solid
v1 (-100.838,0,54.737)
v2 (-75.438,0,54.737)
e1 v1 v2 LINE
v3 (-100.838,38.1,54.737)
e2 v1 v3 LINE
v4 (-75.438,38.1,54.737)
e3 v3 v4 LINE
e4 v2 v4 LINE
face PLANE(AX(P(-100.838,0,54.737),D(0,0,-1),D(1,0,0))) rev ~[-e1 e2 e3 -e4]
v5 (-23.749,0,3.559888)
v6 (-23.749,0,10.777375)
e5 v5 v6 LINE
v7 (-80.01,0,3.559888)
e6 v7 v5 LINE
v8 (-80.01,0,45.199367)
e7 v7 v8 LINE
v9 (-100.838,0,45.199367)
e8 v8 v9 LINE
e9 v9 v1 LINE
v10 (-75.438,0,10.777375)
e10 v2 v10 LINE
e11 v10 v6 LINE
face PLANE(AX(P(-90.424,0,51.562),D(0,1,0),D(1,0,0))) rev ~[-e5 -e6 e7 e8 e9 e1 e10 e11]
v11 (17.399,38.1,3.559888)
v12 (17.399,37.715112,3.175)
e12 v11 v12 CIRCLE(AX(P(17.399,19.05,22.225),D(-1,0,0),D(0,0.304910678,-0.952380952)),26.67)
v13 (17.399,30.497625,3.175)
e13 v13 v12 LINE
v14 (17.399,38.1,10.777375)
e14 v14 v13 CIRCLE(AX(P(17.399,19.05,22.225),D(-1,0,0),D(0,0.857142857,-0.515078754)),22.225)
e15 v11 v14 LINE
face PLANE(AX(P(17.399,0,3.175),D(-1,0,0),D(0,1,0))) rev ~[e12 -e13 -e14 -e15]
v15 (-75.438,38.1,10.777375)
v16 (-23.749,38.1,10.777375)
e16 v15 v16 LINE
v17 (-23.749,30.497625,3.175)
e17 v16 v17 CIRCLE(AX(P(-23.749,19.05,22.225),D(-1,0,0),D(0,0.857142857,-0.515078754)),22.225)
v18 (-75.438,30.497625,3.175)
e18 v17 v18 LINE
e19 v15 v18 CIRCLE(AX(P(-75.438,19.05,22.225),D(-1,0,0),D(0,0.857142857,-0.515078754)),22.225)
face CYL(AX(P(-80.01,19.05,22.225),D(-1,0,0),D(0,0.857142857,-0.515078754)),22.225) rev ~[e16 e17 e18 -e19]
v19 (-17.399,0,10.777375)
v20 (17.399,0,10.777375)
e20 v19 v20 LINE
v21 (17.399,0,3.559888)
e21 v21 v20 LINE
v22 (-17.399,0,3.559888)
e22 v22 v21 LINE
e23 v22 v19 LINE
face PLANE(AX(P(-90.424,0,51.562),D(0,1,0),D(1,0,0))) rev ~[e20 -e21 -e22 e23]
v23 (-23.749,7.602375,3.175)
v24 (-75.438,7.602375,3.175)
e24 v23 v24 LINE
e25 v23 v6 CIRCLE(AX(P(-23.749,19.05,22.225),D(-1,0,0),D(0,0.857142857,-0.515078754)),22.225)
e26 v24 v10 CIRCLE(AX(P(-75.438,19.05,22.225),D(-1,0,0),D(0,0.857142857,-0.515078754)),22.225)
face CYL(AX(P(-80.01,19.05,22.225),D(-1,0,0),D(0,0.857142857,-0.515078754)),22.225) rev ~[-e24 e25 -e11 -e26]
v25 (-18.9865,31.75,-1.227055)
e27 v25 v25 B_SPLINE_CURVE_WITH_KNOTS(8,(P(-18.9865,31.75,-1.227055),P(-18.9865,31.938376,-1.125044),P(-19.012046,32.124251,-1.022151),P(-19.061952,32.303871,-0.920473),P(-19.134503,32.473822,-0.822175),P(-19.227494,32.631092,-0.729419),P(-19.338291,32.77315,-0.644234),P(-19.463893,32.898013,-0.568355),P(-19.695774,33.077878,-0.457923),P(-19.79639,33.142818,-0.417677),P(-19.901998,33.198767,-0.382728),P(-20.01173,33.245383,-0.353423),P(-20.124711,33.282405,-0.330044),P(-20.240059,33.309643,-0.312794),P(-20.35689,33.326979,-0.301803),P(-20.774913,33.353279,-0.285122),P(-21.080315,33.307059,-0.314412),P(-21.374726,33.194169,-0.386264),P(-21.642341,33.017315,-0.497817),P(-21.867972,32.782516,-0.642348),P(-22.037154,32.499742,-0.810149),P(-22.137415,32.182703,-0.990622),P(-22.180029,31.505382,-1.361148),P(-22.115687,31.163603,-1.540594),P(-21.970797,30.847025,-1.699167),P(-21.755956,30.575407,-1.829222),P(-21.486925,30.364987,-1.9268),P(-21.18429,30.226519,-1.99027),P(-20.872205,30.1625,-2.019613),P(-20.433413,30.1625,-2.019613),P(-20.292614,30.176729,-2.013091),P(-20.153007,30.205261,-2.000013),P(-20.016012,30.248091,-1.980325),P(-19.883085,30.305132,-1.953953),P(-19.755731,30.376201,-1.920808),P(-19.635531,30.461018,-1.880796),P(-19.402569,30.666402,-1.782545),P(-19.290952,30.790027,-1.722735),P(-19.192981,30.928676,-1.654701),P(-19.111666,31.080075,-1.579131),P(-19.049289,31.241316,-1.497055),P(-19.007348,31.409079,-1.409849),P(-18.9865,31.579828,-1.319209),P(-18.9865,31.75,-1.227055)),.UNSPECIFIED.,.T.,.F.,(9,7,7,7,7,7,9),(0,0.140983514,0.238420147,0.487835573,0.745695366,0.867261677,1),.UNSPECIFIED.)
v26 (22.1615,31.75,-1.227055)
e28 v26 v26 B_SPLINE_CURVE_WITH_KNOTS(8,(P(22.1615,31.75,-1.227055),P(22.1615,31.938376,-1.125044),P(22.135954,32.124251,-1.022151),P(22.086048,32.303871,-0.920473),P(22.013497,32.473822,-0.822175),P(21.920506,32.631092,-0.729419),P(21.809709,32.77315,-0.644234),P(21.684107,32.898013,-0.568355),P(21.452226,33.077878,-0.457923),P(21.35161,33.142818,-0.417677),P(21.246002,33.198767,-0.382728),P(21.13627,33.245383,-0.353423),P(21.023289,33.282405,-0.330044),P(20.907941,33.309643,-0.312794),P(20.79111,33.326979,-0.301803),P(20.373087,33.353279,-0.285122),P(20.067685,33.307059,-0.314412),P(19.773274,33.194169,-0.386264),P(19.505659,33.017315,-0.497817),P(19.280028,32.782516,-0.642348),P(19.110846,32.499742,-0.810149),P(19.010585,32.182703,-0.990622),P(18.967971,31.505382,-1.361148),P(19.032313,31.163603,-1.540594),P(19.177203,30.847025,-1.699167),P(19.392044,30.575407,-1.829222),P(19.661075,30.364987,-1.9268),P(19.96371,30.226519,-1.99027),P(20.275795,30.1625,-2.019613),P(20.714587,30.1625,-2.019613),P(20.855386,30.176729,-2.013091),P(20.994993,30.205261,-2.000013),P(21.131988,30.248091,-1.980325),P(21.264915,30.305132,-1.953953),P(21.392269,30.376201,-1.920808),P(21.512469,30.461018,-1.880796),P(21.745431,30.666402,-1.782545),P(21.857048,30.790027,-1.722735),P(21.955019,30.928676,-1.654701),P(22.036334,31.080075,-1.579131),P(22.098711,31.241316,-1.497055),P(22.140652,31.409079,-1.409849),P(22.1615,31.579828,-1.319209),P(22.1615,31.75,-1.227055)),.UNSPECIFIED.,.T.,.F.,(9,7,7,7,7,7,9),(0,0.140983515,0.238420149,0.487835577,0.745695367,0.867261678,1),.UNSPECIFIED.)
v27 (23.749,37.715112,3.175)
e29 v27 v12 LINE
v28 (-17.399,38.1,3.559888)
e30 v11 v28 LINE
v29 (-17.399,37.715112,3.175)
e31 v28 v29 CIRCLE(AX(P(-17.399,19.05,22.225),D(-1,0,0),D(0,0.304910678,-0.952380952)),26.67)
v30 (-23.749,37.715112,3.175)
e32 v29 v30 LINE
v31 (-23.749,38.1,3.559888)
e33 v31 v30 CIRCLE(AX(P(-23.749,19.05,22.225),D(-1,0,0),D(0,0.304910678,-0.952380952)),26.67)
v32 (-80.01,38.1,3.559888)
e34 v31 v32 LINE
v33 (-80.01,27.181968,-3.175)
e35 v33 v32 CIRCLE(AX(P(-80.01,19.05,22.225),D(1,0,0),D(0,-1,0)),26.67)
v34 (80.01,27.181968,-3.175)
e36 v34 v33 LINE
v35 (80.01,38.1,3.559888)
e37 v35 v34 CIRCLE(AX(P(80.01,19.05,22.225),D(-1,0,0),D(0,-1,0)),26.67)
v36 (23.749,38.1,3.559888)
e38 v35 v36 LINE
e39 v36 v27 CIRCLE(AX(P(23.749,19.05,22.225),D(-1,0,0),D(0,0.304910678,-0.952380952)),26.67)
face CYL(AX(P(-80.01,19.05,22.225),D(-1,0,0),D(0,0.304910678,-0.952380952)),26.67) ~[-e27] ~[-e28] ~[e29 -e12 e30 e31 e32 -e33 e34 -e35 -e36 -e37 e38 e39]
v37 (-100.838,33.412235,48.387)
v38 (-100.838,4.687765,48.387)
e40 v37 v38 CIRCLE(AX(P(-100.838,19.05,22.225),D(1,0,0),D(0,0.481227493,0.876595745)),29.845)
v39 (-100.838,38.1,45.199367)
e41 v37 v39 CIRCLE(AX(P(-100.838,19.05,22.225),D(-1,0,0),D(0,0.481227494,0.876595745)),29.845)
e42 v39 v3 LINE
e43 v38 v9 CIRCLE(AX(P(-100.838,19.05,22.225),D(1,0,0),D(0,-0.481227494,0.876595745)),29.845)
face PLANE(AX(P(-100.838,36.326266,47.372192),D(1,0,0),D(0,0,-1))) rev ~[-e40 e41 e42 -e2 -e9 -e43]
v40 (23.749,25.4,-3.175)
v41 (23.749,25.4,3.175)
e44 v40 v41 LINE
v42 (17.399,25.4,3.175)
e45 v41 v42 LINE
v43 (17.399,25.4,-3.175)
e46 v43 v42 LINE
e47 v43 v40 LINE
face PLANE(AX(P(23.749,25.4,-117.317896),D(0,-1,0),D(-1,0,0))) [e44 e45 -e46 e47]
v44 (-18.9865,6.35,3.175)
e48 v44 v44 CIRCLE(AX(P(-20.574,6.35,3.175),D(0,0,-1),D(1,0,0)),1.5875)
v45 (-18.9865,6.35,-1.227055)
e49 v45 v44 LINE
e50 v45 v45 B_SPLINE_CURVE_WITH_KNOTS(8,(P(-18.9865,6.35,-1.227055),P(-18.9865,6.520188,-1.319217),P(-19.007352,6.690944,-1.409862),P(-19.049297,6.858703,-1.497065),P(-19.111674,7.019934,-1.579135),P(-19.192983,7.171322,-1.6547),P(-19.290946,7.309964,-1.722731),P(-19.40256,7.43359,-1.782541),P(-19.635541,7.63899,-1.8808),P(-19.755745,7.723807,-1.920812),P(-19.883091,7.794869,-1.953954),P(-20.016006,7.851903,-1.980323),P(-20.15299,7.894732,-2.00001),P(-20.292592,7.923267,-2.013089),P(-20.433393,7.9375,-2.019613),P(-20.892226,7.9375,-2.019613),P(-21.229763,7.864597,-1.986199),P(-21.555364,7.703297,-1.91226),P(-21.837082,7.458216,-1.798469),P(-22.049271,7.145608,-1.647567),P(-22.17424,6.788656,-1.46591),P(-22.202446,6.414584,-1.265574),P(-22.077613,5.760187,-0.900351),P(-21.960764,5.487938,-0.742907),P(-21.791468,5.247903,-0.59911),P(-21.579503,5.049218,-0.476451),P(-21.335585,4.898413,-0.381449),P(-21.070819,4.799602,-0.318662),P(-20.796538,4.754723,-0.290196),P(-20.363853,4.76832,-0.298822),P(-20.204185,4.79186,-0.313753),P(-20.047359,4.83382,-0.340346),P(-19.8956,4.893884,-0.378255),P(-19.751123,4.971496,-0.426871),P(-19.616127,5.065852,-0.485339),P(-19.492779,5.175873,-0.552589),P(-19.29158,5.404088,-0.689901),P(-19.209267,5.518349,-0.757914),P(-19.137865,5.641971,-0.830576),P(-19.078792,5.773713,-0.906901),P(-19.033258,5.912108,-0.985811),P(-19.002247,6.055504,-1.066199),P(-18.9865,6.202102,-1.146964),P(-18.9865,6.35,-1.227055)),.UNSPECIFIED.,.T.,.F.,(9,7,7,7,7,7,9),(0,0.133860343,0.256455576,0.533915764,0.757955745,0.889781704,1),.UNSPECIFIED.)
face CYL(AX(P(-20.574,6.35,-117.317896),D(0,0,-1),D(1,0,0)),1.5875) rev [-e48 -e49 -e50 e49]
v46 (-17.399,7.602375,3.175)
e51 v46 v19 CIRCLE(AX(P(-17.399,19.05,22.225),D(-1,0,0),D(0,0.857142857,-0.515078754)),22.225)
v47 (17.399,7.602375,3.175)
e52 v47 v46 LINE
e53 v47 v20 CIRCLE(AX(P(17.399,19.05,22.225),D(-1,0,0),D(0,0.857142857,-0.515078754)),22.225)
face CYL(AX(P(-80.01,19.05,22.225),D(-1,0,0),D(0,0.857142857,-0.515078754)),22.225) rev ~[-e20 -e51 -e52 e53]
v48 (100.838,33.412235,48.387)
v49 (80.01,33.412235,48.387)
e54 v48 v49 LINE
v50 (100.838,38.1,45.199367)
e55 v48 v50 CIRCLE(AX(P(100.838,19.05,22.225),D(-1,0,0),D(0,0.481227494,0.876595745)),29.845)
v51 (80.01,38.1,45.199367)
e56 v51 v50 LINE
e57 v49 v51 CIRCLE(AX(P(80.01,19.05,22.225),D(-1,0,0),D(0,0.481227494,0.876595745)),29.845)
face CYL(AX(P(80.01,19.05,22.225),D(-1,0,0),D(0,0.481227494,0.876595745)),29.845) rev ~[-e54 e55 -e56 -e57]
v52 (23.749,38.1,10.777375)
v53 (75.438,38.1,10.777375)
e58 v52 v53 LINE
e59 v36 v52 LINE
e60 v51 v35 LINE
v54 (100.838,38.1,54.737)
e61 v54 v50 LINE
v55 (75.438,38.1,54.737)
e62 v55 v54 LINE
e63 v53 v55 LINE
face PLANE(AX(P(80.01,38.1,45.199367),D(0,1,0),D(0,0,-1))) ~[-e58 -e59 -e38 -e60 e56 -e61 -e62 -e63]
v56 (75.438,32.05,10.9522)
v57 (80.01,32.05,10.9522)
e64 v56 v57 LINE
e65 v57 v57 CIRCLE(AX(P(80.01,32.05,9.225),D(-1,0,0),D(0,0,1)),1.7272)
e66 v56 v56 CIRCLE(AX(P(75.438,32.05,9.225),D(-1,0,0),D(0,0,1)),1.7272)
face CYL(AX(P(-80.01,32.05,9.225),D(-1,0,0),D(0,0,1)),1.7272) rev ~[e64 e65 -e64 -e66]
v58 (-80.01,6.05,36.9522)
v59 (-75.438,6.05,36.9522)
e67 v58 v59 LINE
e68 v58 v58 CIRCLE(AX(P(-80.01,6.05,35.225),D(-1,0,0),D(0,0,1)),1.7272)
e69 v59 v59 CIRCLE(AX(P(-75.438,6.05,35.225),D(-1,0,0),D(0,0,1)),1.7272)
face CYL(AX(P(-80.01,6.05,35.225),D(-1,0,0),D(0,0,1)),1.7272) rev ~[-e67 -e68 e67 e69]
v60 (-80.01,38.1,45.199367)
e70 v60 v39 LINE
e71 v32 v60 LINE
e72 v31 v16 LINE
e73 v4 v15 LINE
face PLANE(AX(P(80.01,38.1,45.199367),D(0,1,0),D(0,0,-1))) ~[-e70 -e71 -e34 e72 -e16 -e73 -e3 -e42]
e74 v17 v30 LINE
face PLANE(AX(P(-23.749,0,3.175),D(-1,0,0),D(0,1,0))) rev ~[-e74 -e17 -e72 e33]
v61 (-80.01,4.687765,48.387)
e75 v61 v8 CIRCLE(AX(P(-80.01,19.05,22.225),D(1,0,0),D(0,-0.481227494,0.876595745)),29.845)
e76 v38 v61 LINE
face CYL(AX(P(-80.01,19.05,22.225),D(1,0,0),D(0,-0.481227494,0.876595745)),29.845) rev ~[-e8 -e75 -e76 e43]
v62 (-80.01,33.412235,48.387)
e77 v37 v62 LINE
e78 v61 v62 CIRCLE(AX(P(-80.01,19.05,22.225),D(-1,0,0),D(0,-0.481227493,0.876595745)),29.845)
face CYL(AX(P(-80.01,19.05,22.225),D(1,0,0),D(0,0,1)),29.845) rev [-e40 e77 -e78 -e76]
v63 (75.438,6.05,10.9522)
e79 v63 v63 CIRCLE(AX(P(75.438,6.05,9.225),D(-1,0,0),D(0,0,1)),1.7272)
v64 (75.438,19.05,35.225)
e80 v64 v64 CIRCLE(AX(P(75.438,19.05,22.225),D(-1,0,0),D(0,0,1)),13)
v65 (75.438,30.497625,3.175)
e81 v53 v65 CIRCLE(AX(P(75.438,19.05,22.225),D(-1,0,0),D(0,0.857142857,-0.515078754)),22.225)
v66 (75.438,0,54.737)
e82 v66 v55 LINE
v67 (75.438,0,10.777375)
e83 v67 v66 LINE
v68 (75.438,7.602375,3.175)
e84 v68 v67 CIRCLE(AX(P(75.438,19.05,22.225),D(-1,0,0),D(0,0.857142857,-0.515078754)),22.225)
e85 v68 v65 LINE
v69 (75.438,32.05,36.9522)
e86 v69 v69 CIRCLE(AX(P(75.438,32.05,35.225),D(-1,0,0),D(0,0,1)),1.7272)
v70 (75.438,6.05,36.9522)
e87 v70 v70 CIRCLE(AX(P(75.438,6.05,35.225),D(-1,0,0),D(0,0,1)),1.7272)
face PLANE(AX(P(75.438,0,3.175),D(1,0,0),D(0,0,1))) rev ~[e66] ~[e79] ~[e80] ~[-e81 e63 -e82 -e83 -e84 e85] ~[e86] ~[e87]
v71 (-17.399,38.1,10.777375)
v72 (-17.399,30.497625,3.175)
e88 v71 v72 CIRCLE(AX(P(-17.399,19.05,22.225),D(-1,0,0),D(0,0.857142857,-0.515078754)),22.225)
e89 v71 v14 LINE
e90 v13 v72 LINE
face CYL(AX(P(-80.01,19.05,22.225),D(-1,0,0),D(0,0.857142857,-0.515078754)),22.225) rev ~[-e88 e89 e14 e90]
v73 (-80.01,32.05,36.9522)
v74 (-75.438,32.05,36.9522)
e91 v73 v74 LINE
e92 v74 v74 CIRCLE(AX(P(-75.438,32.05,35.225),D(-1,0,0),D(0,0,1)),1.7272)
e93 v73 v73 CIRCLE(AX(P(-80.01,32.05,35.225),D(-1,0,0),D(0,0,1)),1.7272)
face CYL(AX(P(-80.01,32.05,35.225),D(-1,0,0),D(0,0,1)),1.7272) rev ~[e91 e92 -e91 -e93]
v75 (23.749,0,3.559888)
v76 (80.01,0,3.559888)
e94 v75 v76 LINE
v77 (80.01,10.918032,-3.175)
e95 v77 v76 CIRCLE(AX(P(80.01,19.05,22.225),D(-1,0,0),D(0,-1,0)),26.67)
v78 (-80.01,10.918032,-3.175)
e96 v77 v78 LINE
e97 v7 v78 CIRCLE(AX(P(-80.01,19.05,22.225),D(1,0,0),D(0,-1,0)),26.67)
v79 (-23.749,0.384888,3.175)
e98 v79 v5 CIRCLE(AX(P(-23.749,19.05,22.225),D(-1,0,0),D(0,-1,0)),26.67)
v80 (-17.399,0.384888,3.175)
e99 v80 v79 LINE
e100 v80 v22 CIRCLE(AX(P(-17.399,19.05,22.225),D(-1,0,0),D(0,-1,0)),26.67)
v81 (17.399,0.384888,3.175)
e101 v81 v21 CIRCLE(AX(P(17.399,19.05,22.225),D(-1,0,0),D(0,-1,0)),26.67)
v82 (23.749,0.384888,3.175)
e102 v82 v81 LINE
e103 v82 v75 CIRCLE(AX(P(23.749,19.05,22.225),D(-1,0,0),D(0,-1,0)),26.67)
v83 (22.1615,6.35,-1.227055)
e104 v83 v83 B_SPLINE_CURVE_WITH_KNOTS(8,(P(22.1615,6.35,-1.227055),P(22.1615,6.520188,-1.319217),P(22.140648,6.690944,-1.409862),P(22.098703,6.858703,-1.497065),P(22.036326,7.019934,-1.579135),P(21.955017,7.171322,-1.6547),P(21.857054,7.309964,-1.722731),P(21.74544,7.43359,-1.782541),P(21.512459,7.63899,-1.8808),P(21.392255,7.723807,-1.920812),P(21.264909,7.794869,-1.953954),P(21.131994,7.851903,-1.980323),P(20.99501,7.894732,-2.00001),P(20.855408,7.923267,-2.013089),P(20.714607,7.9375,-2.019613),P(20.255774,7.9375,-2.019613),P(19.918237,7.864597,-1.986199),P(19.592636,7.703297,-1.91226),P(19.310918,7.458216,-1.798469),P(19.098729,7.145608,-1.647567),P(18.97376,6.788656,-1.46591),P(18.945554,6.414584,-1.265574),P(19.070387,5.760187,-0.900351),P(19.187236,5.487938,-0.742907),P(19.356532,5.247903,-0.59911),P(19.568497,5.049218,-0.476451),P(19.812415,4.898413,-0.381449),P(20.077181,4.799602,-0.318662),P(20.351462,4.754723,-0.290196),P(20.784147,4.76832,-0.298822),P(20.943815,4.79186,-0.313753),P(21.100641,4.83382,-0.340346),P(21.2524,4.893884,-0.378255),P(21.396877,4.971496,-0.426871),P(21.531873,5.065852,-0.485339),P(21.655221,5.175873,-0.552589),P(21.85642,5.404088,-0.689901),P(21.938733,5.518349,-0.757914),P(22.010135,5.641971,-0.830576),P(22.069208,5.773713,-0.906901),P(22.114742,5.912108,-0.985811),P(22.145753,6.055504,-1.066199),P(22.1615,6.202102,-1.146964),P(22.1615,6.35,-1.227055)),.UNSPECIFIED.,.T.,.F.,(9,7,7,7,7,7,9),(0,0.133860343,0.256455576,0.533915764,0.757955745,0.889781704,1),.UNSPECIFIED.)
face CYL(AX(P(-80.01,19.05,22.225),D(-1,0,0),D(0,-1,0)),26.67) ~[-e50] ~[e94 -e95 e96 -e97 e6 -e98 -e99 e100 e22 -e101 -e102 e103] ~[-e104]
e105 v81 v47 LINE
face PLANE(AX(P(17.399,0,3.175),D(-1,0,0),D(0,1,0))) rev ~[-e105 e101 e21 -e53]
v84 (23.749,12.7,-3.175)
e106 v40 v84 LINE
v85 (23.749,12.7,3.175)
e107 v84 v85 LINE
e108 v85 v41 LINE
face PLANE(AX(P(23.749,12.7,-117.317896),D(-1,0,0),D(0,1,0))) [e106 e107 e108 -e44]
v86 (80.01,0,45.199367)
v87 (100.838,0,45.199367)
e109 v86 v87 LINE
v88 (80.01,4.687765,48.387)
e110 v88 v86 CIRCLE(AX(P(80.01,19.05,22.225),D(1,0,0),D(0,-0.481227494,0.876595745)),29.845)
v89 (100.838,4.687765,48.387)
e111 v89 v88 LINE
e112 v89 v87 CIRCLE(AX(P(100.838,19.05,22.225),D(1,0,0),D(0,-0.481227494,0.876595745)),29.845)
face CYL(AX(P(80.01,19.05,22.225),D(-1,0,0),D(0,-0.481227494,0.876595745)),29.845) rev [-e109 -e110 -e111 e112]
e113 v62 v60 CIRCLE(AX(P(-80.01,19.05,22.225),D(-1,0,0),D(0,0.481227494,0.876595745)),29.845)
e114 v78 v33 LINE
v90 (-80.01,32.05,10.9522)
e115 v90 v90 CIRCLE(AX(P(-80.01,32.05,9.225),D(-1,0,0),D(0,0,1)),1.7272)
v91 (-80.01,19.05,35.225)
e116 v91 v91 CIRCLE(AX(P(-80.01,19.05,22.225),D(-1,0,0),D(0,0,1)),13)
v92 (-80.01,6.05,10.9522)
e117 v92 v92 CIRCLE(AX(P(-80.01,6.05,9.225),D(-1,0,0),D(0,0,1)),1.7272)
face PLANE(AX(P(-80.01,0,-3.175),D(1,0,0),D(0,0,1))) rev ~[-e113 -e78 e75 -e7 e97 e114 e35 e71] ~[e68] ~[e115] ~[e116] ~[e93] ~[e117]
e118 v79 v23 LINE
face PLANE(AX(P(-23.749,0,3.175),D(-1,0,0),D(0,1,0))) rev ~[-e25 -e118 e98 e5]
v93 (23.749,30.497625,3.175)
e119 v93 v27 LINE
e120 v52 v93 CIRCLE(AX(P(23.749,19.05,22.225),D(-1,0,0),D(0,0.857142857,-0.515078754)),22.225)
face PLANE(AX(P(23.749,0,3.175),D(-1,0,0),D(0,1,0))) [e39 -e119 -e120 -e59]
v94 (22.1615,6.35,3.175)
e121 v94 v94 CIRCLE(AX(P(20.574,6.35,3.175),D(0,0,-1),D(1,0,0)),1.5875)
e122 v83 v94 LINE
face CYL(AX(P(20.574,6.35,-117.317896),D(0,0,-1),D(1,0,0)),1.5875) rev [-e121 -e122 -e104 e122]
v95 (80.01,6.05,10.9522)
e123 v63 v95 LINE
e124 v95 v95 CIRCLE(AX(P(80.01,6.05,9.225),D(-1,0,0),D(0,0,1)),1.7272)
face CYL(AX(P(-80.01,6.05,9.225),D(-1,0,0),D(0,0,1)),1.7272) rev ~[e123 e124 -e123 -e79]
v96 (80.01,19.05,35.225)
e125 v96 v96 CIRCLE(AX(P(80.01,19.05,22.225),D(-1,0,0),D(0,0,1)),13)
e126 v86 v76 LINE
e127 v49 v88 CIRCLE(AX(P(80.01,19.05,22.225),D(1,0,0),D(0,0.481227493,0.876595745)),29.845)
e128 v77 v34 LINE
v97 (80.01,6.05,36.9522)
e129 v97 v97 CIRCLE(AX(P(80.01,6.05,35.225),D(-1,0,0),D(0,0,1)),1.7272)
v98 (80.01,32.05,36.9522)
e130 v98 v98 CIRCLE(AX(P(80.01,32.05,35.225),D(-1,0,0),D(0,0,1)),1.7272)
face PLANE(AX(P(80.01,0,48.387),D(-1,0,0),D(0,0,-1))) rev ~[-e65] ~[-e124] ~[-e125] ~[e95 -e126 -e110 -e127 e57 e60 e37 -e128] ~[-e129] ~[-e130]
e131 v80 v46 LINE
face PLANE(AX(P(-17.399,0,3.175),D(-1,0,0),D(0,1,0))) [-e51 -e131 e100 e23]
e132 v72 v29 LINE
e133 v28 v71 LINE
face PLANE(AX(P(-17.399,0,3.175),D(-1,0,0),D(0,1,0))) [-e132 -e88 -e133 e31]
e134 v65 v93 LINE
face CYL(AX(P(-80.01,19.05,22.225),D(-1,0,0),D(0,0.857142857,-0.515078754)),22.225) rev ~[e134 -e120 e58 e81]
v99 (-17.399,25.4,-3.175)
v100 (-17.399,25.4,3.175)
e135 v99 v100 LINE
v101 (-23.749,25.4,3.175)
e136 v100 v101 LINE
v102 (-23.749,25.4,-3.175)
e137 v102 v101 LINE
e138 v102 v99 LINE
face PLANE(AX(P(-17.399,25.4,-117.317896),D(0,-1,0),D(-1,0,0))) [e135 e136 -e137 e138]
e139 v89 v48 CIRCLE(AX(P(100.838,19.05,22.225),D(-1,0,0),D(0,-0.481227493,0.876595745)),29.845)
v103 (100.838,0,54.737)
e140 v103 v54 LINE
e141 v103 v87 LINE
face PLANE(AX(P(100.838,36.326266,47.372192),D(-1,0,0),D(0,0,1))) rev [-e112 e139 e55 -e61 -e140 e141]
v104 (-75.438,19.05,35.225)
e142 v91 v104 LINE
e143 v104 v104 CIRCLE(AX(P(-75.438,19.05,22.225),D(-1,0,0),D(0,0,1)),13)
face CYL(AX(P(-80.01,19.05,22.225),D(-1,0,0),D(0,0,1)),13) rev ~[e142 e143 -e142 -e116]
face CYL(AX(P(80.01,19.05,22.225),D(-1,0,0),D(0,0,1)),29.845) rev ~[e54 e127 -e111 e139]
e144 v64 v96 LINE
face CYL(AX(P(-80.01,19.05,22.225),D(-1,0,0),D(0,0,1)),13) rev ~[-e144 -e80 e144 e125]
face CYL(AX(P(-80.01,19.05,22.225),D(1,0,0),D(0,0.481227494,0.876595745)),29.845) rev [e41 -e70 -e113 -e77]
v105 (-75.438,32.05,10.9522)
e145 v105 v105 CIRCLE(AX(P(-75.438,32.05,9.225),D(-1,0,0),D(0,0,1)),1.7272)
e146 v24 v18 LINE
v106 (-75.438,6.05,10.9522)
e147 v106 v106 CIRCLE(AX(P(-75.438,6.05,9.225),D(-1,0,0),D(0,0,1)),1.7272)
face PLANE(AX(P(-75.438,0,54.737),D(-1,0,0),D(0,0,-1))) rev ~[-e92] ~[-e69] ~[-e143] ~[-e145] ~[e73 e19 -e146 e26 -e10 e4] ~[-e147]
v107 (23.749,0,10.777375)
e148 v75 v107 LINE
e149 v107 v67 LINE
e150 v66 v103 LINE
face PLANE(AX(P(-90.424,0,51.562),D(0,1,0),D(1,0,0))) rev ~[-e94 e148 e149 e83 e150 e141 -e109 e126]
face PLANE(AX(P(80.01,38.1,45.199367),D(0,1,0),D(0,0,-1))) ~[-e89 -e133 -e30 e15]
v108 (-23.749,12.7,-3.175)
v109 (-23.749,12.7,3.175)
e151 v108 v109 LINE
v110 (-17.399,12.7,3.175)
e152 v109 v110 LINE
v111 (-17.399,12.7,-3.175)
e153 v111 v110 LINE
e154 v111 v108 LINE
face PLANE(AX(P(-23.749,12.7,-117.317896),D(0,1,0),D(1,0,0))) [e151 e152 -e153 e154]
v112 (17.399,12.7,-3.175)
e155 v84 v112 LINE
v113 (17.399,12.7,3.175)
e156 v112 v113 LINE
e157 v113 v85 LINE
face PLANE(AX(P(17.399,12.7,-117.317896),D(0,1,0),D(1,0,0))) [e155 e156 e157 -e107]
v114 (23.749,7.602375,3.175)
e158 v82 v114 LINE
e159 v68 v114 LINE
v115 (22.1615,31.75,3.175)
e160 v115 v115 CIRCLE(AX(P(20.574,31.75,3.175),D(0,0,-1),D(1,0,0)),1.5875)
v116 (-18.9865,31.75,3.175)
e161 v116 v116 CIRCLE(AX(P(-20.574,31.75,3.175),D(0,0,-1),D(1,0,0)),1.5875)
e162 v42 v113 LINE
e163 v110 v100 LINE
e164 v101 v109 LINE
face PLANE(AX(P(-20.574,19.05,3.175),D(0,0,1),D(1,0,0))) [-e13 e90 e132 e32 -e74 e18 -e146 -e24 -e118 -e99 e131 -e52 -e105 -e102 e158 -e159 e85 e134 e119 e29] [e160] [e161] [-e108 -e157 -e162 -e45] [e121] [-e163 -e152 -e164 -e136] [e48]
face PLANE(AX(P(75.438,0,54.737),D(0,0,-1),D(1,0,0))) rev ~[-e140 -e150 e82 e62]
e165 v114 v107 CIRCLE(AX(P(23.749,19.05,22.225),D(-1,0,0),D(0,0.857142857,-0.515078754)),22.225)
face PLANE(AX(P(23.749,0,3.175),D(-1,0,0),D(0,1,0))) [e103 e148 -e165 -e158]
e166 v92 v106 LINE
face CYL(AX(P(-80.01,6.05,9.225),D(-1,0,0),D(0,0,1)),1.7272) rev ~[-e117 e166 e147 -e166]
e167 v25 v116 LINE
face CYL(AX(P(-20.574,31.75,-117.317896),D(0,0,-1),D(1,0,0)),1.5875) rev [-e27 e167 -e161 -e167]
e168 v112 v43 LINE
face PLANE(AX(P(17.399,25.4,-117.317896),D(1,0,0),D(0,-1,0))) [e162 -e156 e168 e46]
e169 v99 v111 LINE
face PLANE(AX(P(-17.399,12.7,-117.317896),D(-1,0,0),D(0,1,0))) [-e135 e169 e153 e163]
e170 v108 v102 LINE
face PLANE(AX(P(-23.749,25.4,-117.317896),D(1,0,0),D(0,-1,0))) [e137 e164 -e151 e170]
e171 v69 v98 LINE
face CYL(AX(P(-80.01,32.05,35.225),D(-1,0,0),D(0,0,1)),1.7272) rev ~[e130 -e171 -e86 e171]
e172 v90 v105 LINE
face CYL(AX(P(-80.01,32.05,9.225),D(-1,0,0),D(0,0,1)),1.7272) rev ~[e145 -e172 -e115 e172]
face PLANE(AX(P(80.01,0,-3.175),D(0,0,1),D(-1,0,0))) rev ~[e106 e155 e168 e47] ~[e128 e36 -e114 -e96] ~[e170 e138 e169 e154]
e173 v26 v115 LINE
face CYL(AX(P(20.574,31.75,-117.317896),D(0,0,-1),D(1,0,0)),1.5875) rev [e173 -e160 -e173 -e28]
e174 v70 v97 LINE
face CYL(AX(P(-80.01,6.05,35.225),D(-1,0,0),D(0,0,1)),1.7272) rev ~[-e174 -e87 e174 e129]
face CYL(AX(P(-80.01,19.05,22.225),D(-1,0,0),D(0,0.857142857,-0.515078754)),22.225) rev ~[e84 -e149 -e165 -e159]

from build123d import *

# Parameters (mm, degrees)
SKETCH3_W               = 20.828
SKETCH3_H               = 6.35
SKETCH3_W_2             = 4.572
SKETCH3_H_2             = 45.212
SKETCH3_W_3             = 150.876
BOSS_EXTRUDE1_DEPTH     = 38.1
SKETCH5_R               = 1.7272
SKETCH5_R_2             = 13
CUT_EXTRUDE2_DEPTH      = 193.753075911
CUT_EXTRUDE3_DEPTH      = 193.753075911
BOSS_EXTRUDE2_DEPTH     = 155.448
CUT_EXTRUDE1_DEPTH      = 120.492895555
CUT_EXTRUDE1_DEPTH_BACK = 120.492895555
SKETCH4_R               = 1.5875
SKETCH8_R               = 29.845
CUT_EXTRUDE4_DEPTH      = 193.75307593
BOSS_EXTRUDE3_DEPTH     = 20.828
SKETCH10_W              = 6.35
SKETCH10_H              = 38.1
CUT_EXTRUDE5_DEPTH      = 120.492895586


with BuildPart() as part:
    # Sketch3 → Boss-Extrude1 (new body)
    with BuildSketch(Plane(origin=(0, 0, 0), x_dir=(1, 0, 0), z_dir=(0, 1, 0))):
        with Locations((-90.424, -51.562)):
            Rectangle(SKETCH3_W, SKETCH3_H)
        with Locations((-77.724, -51.562)):
            Rectangle(SKETCH3_W_2, SKETCH3_H)
        with Locations((-77.724, -25.781)):
            Rectangle(SKETCH3_W_2, SKETCH3_H_2)
        with Locations((-77.724, 0)):
            Rectangle(SKETCH3_W_2, SKETCH3_H)
        Rectangle(SKETCH3_W_3, SKETCH3_H)
        with Locations((77.724, 0)):
            Rectangle(SKETCH3_W_2, SKETCH3_H)
        with Locations((77.724, -25.781)):
            Rectangle(SKETCH3_W_2, SKETCH3_H_2)
        with Locations((77.724, -51.562)):
            Rectangle(SKETCH3_W_2, SKETCH3_H)
        with Locations((90.424, -51.562)):
            Rectangle(SKETCH3_W, SKETCH3_H)
    extrude(amount=BOSS_EXTRUDE1_DEPTH)

    # Sketch5 → Cut-Extrude2 (cut, through all)
    with BuildSketch(Plane.ZY.offset(80.01)):
        with Locations((9.225, 32.05)):
            Circle(SKETCH5_R)
        with Locations((35.225, 32.05)):
            Circle(SKETCH5_R)
        with Locations((35.225, 6.05)):
            Circle(SKETCH5_R)
        with Locations((9.225, 6.05)):
            Circle(SKETCH5_R)
        with Locations((22.225, 19.05)):
            Circle(SKETCH5_R_2)
    extrude(amount=-CUT_EXTRUDE2_DEPTH, mode=Mode.SUBTRACT)

    # Sketch6 → Cut-Extrude3 (cut, through all)
    with BuildSketch(Plane.ZY.offset(80.01)):
        with BuildLine():
            Line((22.225, 45.72), (-24.944215418, 45.72))
            Line((-24.944215418, 45.72), (-24.944215418, -7.62))
            Line((-24.944215418, -7.62), (22.225, -7.62))
            ThreePointArc((22.225, -7.62), (-4.445, 19.05), (22.225, 45.72))
        make_face()
    extrude(amount=-CUT_EXTRUDE3_DEPTH, mode=Mode.SUBTRACT)

    # Sketch7 → Boss-Extrude2 (add)
    with BuildSketch(Plane.ZY.offset(80.01)):
        with BuildLine():
            Line((3.55988816, 38.1), (10.7773747, 38.1))
            ThreePointArc((10.7773747, 38.1), (0, 19.05), (10.7773747, 0))
            Line((10.7773747, 0), (3.55988816, 0))
            ThreePointArc((3.55988816, 0), (-0.473774796, 5.048052894), (-3.175, 10.918032218))
            Line((-3.175, 10.918032218), (-3.175, 27.181967782))
            ThreePointArc((-3.175, 27.181967782), (-0.473774796, 33.051947106), (3.55988816, 38.1))
        make_face()
    extrude(amount=-BOSS_EXTRUDE2_DEPTH)

    # Sketch4 → Cut-Extrude1 (cut, two sides: drawn at the far end of the back side and taken through both)
    with BuildSketch(Plane.XY.offset(3.175).offset(-CUT_EXTRUDE1_DEPTH_BACK)):
        Polygon((17.399, 25.4), (17.399, 19.05), (17.399, 12.7), (23.749, 12.7), (23.749, 25.4), align=None)
        Polygon((-17.399, 25.4), (-23.749, 25.4), (-23.749, 12.7), (-17.399, 12.7), (-17.399, 19.05), align=None)
        with Locations((-20.574, 31.75)):
            Circle(SKETCH4_R)
        with Locations((-20.574, 6.35)):
            Circle(SKETCH4_R)
        with Locations((20.574, 6.35)):
            Circle(SKETCH4_R)
        with Locations((20.574, 31.75)):
            Circle(SKETCH4_R)
    extrude(amount=CUT_EXTRUDE1_DEPTH + CUT_EXTRUDE1_DEPTH_BACK, mode=Mode.SUBTRACT)

    # Sketch8 → Cut-Extrude4 (cut, through all)
    with BuildSketch(Plane.ZY.offset(80.01)):
        with Locations((22.225, 19.05)):
            Circle(SKETCH8_R)
    cut_extrude4 = extrude(amount=CUT_EXTRUDE4_DEPTH, mode=Mode.SUBTRACT)

    # Sketch9 → Boss-Extrude3 (add)
    with BuildSketch(Plane.ZY.offset(80.01)):
        with BuildLine():
            Line((48.387, 38.1), (48.387, 33.412234541))
            ThreePointArc((48.387, 33.412234541), (46.904737017, 35.831972642), (45.199366694, 38.1))
            Line((45.199366694, 38.1), (48.387, 38.1))
        make_face()
        with BuildLine():
            Line((48.387, 0), (48.387, 4.687765459))
            ThreePointArc((48.387, 4.687765459), (46.904737017, 2.268027358), (45.199366694, 0))
            Line((45.199366694, 0), (48.387, 0))
        make_face()
    boss_extrude3 = extrude(amount=BOSS_EXTRUDE3_DEPTH)

    # Mirror4: Cut-Extrude4, Boss-Extrude3 across plane
    add(cut_extrude4.mirror(Plane(origin=(0, 0, 0), x_dir=(0, 0, 1), z_dir=(1, 0, 0))), mode=Mode.SUBTRACT)
    add(boss_extrude3.mirror(Plane(origin=(0, 0, 0), x_dir=(0, 0, 1), z_dir=(1, 0, 0))))

    # Sketch10 → Cut-Extrude5 (cut, through all)
    with BuildSketch(Plane.XY.offset(3.175)):
        with Locations((-20.574, 19.05)):
            Rectangle(SKETCH10_W, SKETCH10_H)
        with Locations((20.574, 19.05)):
            Rectangle(SKETCH10_W, SKETCH10_H)
    extrude(amount=CUT_EXTRUDE5_DEPTH, mode=Mode.SUBTRACT)


solid = part.part
